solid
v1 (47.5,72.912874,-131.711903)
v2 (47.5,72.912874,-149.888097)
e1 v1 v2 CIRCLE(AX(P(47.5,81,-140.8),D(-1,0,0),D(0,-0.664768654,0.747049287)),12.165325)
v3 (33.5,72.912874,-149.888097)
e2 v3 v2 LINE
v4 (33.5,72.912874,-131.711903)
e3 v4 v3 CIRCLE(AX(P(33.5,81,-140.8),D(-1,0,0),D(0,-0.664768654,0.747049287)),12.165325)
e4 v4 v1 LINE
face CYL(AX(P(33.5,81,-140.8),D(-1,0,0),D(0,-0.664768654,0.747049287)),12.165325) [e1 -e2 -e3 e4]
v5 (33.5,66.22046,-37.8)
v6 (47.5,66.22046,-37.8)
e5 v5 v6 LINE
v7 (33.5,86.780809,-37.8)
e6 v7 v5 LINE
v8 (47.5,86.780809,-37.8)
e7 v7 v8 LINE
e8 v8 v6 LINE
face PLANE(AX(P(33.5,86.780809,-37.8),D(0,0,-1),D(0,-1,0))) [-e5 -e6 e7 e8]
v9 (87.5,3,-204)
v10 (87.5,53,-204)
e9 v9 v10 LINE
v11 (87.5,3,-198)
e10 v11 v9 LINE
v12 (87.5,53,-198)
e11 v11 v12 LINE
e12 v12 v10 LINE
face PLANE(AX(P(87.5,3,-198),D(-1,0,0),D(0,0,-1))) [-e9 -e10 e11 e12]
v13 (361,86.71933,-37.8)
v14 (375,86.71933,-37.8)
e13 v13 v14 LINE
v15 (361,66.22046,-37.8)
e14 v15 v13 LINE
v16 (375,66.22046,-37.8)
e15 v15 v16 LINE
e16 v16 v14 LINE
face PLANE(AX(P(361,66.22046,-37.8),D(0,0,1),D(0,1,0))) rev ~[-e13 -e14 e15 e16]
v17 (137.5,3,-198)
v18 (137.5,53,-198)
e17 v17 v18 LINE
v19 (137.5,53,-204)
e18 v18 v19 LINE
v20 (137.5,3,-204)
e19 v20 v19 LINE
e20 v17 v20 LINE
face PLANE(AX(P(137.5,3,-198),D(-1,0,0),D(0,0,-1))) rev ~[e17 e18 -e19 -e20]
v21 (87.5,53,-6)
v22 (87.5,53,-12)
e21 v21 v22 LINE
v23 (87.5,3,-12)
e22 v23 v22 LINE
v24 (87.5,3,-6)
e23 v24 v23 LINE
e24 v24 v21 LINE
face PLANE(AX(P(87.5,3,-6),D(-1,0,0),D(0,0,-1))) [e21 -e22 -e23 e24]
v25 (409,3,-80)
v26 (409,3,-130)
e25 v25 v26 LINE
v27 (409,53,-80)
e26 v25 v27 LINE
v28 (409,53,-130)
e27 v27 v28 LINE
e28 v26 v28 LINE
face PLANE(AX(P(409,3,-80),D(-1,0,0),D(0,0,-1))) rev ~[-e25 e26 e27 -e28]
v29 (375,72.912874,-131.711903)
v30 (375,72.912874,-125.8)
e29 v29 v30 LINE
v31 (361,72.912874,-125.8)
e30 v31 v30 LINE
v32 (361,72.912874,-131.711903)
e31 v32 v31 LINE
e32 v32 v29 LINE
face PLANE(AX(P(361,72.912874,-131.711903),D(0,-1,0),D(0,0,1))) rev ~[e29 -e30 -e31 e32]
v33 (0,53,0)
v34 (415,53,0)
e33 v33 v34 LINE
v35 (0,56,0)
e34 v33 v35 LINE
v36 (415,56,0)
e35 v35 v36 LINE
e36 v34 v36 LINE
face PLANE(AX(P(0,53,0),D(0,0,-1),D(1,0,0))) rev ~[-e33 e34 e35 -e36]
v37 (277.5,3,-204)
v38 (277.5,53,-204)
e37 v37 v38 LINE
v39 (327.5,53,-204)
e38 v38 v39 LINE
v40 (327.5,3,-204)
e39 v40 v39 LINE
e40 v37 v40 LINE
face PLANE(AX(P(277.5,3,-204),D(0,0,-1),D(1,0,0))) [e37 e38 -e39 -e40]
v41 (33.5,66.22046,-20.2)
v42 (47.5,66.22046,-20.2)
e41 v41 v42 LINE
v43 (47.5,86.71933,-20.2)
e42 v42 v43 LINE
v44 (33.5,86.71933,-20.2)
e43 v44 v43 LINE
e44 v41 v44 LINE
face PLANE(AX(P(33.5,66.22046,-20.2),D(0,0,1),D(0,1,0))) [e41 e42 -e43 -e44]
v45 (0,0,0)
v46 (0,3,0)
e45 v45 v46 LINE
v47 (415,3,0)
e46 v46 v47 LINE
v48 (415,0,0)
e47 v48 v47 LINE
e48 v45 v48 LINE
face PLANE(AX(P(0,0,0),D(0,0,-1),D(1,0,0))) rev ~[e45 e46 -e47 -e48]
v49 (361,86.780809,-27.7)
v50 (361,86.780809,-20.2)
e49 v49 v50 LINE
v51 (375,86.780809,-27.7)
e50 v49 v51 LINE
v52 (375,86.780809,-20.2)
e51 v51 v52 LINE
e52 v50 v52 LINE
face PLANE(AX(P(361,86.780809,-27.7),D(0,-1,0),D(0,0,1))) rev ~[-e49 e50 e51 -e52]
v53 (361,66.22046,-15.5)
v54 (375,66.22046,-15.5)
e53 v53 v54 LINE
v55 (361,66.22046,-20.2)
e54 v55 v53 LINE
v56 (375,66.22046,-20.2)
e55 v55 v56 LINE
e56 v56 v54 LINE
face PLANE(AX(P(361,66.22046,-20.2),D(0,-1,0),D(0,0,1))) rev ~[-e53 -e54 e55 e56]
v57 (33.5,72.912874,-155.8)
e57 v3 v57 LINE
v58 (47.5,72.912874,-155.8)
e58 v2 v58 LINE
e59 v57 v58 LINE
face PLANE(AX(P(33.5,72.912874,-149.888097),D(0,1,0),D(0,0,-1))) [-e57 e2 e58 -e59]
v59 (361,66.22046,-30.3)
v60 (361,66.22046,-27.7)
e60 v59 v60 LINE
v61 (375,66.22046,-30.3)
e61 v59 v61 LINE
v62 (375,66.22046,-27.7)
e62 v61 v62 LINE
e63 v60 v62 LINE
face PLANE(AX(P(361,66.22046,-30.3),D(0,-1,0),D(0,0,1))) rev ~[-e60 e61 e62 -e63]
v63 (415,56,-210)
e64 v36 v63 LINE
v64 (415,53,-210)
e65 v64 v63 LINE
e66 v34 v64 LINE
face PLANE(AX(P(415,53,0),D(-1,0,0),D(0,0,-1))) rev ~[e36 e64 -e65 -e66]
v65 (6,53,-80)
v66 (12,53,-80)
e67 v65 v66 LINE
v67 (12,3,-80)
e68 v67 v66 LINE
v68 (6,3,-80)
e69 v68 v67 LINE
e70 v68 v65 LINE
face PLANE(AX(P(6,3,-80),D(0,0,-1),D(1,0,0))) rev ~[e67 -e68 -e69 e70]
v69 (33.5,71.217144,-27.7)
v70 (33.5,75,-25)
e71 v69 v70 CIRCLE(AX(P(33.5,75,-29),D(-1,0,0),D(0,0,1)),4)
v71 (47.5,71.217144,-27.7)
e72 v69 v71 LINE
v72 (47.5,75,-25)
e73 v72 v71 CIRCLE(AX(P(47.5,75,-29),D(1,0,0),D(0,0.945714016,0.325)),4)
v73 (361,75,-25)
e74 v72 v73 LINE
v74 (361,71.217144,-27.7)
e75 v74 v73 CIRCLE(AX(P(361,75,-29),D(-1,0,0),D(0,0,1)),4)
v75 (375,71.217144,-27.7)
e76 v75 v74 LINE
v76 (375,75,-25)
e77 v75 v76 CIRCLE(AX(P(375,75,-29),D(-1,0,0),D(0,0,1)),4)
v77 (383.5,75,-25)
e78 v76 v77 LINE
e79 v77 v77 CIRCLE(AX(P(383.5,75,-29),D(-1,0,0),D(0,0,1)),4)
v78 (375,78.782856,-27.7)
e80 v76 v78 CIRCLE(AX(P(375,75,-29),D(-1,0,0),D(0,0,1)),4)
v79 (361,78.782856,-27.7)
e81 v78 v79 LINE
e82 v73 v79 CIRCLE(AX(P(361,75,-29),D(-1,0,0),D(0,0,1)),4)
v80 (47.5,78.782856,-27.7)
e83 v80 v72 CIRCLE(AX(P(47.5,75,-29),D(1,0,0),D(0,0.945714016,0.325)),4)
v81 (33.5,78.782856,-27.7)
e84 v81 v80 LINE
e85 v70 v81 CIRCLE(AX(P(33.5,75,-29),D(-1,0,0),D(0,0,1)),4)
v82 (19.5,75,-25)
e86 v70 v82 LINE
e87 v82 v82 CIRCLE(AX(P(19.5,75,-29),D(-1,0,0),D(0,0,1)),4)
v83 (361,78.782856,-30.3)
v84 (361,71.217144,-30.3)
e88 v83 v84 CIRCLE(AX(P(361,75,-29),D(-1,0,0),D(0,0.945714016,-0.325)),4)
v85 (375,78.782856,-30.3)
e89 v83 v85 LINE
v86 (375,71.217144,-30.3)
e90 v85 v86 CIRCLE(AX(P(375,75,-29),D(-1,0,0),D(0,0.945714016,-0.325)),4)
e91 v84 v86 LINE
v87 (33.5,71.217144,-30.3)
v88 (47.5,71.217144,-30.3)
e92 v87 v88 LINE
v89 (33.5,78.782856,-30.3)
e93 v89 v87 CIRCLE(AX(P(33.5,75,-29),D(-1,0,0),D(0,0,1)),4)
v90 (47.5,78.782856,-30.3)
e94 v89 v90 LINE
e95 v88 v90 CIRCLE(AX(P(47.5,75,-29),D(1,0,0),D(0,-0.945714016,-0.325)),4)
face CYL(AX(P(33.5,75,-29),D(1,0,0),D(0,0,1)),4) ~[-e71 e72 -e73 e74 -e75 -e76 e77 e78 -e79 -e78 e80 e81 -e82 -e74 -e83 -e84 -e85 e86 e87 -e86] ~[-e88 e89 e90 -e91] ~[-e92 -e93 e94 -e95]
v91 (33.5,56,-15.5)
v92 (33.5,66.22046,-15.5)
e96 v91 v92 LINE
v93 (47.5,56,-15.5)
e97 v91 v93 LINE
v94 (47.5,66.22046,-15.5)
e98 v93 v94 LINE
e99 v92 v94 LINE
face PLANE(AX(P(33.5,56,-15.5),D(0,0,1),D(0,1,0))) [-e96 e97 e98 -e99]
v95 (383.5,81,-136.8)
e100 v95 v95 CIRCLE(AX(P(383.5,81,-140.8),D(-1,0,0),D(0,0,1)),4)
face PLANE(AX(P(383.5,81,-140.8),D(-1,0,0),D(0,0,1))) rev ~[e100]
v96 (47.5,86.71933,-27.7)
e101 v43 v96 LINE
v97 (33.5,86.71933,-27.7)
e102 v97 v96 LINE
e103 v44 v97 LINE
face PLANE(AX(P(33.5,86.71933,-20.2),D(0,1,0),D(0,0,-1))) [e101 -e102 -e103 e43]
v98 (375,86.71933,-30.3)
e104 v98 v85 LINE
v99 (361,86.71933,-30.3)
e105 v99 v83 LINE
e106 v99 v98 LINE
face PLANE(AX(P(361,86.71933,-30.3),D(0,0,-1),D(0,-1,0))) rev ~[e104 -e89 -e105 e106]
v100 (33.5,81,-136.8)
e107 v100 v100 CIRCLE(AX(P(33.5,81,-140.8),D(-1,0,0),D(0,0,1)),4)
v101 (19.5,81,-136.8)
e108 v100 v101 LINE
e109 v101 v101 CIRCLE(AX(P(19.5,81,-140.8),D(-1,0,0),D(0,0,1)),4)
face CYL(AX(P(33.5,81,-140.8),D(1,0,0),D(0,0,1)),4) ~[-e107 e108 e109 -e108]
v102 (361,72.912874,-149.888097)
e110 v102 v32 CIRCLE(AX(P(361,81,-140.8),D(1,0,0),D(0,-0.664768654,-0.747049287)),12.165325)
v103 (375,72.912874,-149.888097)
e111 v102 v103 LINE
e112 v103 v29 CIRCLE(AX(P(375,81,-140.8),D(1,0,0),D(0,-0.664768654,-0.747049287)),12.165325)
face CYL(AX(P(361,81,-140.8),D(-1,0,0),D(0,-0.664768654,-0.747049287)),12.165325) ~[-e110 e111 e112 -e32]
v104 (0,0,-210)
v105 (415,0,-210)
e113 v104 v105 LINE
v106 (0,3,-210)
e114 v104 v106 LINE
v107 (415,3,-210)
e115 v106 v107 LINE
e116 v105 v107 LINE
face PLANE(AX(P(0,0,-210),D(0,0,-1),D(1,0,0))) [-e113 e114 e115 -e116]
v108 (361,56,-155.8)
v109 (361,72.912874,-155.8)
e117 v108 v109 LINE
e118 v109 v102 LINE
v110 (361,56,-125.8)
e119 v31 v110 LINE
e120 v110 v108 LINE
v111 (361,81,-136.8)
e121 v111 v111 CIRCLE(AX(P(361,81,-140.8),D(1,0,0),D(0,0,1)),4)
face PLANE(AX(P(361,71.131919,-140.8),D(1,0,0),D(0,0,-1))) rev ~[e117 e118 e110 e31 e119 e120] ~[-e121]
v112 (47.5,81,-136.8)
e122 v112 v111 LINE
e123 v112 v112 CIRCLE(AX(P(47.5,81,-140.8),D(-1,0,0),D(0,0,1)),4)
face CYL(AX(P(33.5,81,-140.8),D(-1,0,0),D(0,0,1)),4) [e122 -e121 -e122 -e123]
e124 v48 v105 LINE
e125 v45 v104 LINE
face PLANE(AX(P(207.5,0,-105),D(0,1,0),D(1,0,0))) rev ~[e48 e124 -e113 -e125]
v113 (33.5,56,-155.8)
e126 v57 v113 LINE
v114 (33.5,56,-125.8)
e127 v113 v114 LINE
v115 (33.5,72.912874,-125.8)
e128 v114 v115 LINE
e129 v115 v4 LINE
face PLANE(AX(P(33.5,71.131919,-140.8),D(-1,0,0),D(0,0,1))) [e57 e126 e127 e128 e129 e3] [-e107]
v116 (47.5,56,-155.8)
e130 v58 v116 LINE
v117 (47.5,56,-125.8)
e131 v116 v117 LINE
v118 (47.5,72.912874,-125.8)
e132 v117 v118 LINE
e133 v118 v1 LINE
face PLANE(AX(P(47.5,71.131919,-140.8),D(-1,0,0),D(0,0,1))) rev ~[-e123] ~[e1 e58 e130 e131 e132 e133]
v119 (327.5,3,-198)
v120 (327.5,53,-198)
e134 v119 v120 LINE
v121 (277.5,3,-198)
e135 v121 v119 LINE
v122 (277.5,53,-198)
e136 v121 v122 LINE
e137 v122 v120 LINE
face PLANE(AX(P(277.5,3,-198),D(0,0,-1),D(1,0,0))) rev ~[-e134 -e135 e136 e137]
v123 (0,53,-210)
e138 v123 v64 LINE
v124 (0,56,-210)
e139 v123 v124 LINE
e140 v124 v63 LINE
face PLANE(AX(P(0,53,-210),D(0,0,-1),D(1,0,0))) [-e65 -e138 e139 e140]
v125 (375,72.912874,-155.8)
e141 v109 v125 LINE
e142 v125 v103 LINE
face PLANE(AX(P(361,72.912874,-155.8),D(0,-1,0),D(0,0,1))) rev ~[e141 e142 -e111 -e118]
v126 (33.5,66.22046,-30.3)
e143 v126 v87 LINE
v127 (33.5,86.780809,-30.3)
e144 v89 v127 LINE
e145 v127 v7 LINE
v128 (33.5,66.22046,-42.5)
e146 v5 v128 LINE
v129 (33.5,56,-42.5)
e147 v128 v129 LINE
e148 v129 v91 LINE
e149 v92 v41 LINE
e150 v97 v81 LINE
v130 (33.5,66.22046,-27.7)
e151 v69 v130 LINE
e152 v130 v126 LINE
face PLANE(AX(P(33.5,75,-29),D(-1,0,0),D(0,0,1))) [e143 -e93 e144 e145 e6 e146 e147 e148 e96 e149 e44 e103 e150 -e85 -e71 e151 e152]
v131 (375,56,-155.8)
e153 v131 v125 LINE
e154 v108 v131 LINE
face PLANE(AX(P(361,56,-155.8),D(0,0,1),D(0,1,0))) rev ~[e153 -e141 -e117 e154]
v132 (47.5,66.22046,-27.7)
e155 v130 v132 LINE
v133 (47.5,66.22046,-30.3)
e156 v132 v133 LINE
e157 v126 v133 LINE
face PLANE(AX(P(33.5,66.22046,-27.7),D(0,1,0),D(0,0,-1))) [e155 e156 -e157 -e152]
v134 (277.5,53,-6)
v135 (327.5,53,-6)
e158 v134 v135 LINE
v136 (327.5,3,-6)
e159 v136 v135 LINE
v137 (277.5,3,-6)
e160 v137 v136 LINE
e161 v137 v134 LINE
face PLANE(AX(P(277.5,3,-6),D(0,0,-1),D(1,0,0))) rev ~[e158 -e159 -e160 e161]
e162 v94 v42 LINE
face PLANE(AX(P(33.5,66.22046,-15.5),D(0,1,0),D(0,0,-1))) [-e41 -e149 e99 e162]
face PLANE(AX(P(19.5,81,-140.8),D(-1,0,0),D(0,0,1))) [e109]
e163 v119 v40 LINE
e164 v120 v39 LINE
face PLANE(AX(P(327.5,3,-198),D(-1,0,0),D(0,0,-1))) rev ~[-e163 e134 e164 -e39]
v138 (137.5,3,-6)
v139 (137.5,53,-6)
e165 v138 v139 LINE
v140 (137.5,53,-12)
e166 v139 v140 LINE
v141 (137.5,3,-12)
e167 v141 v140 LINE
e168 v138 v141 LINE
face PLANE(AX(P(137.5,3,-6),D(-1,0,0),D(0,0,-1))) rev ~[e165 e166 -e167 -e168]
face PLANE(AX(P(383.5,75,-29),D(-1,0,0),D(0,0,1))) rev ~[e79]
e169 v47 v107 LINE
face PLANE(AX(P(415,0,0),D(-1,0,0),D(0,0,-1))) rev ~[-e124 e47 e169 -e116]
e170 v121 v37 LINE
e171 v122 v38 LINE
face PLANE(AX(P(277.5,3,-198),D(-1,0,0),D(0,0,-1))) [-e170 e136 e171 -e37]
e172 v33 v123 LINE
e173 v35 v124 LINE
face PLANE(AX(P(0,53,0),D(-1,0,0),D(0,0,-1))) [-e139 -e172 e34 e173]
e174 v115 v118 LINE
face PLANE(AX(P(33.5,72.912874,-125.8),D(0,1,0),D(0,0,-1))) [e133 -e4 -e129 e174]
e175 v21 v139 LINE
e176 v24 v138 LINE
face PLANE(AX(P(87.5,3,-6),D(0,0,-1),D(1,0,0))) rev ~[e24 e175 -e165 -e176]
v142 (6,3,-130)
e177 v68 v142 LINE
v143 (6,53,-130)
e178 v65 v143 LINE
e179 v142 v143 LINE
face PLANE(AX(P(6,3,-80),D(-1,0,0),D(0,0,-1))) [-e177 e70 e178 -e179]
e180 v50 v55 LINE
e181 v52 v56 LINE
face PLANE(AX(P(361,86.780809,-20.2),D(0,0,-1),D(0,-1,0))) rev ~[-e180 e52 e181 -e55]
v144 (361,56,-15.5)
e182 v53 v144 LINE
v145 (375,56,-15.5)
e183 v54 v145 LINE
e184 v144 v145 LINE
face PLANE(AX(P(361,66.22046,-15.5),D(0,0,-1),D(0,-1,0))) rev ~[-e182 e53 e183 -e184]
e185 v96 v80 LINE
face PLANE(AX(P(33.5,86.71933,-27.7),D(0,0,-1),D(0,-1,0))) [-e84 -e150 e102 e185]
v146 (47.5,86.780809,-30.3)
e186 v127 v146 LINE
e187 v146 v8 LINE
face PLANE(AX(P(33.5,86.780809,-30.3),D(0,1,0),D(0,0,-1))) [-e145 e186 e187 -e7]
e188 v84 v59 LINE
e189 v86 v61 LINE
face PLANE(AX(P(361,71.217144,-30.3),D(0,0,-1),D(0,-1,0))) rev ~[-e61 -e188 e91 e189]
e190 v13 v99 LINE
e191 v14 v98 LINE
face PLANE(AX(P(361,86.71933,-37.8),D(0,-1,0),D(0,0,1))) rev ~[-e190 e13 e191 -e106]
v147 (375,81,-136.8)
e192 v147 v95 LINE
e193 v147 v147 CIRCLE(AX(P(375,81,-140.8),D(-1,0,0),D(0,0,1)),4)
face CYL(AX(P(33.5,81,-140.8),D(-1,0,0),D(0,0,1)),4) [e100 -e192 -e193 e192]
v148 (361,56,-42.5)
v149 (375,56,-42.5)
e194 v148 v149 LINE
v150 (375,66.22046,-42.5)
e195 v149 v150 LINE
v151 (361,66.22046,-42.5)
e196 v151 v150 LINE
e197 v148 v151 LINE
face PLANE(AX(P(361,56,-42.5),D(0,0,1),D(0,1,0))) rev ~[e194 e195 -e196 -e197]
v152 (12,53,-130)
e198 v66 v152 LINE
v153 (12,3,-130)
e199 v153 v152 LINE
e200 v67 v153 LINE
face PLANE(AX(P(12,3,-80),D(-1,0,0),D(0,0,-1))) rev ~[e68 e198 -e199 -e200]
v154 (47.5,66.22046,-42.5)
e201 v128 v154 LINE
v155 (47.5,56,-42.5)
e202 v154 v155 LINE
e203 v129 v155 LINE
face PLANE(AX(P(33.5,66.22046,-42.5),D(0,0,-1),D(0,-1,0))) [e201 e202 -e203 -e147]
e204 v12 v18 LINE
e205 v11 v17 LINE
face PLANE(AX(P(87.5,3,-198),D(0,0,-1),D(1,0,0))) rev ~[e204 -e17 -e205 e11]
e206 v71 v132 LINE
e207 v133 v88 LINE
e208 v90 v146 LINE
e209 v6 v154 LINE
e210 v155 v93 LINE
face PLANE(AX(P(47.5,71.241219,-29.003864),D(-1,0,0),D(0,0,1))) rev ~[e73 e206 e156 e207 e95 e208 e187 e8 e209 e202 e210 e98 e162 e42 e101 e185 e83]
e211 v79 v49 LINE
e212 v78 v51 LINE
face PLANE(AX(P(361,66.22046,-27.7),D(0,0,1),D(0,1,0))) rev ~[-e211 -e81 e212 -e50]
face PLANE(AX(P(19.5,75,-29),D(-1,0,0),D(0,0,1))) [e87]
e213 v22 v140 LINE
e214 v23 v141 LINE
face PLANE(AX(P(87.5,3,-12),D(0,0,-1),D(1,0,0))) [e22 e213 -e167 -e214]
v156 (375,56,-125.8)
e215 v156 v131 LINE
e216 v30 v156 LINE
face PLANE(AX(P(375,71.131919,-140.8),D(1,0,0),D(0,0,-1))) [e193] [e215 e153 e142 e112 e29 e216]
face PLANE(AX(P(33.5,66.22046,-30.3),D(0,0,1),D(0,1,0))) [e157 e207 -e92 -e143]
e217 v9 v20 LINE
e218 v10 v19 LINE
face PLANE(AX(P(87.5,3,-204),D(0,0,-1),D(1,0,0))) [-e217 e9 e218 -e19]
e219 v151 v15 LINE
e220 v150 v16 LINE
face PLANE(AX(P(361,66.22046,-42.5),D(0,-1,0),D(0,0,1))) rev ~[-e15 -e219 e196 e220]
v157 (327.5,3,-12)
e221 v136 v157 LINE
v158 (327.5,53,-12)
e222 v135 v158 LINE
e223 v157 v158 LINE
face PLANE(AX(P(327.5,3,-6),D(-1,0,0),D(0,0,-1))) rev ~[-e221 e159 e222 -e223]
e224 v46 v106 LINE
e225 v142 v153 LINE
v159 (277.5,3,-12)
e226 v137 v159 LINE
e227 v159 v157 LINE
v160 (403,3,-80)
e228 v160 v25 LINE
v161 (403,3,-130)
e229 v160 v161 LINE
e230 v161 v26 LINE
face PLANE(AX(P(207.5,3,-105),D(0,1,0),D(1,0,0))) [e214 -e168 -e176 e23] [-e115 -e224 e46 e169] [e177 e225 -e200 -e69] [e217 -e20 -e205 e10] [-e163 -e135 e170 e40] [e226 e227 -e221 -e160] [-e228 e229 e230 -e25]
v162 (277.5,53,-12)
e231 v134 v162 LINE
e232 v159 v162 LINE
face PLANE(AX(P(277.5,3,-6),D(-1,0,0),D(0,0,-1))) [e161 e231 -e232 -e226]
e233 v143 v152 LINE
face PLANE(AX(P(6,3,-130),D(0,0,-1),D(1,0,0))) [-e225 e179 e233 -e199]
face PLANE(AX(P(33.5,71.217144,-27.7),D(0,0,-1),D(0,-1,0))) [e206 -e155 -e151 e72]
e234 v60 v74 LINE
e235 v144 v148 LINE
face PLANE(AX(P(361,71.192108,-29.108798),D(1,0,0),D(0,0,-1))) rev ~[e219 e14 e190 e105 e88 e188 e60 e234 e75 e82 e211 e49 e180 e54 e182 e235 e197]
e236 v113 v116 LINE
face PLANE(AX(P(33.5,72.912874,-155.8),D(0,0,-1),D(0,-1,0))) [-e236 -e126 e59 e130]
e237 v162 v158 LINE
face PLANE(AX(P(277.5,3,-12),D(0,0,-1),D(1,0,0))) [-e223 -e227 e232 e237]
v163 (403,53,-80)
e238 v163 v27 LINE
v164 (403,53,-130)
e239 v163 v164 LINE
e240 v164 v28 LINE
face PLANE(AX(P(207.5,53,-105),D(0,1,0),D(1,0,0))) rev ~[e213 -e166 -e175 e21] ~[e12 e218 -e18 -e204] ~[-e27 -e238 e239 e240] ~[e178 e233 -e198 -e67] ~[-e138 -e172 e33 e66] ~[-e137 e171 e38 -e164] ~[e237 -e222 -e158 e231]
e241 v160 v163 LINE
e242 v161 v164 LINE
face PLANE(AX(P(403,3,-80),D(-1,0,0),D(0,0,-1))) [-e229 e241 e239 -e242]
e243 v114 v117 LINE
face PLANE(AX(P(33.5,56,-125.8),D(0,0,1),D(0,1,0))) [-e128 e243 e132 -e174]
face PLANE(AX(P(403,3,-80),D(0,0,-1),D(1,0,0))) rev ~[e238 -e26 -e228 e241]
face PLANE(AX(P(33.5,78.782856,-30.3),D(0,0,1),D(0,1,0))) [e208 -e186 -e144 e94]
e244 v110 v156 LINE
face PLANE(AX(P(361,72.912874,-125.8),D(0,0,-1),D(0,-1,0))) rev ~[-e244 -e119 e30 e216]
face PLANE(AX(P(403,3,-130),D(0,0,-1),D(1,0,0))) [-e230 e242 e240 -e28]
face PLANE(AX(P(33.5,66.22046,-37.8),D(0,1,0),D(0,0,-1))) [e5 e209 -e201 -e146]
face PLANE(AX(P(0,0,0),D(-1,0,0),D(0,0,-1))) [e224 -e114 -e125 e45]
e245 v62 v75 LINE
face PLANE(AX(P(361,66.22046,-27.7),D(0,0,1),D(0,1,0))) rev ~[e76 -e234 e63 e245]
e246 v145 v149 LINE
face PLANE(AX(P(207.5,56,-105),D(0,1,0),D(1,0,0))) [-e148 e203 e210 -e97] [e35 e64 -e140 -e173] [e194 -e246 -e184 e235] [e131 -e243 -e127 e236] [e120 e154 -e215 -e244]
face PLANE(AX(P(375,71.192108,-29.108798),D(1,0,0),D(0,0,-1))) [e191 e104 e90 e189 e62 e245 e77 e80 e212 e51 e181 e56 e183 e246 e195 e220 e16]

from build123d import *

# Parameters (mm, degrees)
SKETCH2_W           = 415
SKETCH2_H           = 210
BOSS_EXTRUDE1_DEPTH = 3
SKETCH3_W           = 415
SKETCH3_H           = 210
BOSS_EXTRUDE2_DEPTH = 3
BOSS_EXTRUDE3_REACH = 470.118
SKETCH4_W           = 6
SKETCH4_H           = 50
SKETCH4_W_2         = 50
SKETCH4_H_2         = 6
BOSS_EXTRUDE4_DEPTH = 14
SKETCH5_3_R         = 4
BOSS_EXTRUDE5_DEPTH = 350
SKETCH8_R           = 4
BOSS_EXTRUDE6_DEPTH = 14
SKETCH5_4_R         = 4
BOSS_EXTRUDE7_DEPTH = 14


with BuildPart() as part:
    # Sketch2 → Boss-Extrude1 (new body)
    with BuildSketch(Plane(origin=(0, 0, 0), x_dir=(1, 0, 0), z_dir=(0, 1, 0))):
        with Locations((207.5, 105)):
            Rectangle(SKETCH2_W, SKETCH2_H)
    extrude(amount=BOSS_EXTRUDE1_DEPTH)


with BuildPart() as body_2:
    # Sketch3 → Boss-Extrude2 (new body)
    with BuildSketch(Plane(origin=(0, 53, 0), x_dir=(1, 0, 0), z_dir=(0, 1, 0))):
        with Locations((207.5, 105)):
            Rectangle(SKETCH3_W, SKETCH3_H)
    extrude(amount=BOSS_EXTRUDE2_DEPTH)

    # Sketch4 → Boss-Extrude3 (add, up to next)
    with BuildSketch(Plane(origin=(0, 3, 0), x_dir=(1, 0, 0), z_dir=(0, 1, 0)), mode=Mode.PRIVATE) as boss_extrude3_sk1:
        with Locations((9, 105)):
            Rectangle(SKETCH4_W, SKETCH4_H)
    boss_extrude3_tool1 = extrude(boss_extrude3_sk1.sketch, amount=BOSS_EXTRUDE3_REACH, mode=Mode.PRIVATE) - body_2.part
    # Sketch4 → Boss-Extrude3 (add, up to next)
    with BuildSketch(Plane(origin=(0, 3, 0), x_dir=(1, 0, 0), z_dir=(0, 1, 0)), mode=Mode.PRIVATE) as boss_extrude3_sk2:
        with Locations((112.5, 9)):
            Rectangle(SKETCH4_W_2, SKETCH4_H_2)
    boss_extrude3_tool2 = extrude(boss_extrude3_sk2.sketch, amount=BOSS_EXTRUDE3_REACH, mode=Mode.PRIVATE) - body_2.part
    # Sketch4 → Boss-Extrude3 (add, up to next)
    with BuildSketch(Plane(origin=(0, 3, 0), x_dir=(1, 0, 0), z_dir=(0, 1, 0)), mode=Mode.PRIVATE) as boss_extrude3_sk3:
        with Locations((302.5, 9)):
            Rectangle(SKETCH4_W_2, SKETCH4_H_2)
    boss_extrude3_tool3 = extrude(boss_extrude3_sk3.sketch, amount=BOSS_EXTRUDE3_REACH, mode=Mode.PRIVATE) - body_2.part
    # Sketch4 → Boss-Extrude3 (add, up to next)
    with BuildSketch(Plane(origin=(0, 3, 0), x_dir=(1, 0, 0), z_dir=(0, 1, 0)), mode=Mode.PRIVATE) as boss_extrude3_sk4:
        with Locations((406, 105)):
            Rectangle(SKETCH4_W, SKETCH4_H)
    boss_extrude3_tool4 = extrude(boss_extrude3_sk4.sketch, amount=BOSS_EXTRUDE3_REACH, mode=Mode.PRIVATE) - body_2.part
    # Sketch4 → Boss-Extrude3 (add, up to next)
    with BuildSketch(Plane(origin=(0, 3, 0), x_dir=(1, 0, 0), z_dir=(0, 1, 0)), mode=Mode.PRIVATE) as boss_extrude3_sk5:
        with Locations((302.5, 201)):
            Rectangle(SKETCH4_W_2, SKETCH4_H_2)
    boss_extrude3_tool5 = extrude(boss_extrude3_sk5.sketch, amount=BOSS_EXTRUDE3_REACH, mode=Mode.PRIVATE) - body_2.part
    # Sketch4 → Boss-Extrude3 (add, up to next)
    with BuildSketch(Plane(origin=(0, 3, 0), x_dir=(1, 0, 0), z_dir=(0, 1, 0)), mode=Mode.PRIVATE) as boss_extrude3_sk6:
        with Locations((112.5, 201)):
            Rectangle(SKETCH4_W_2, SKETCH4_H_2)
    boss_extrude3_tool6 = extrude(boss_extrude3_sk6.sketch, amount=BOSS_EXTRUDE3_REACH, mode=Mode.PRIVATE) - body_2.part

    add(part.part)  # Boss-Extrude3 merges part
    add(boss_extrude3_tool1.solids().sort_by_distance((9, 3, -105))[0])
    add(boss_extrude3_tool2.solids().sort_by_distance((112.5, 3, -9))[0])
    add(boss_extrude3_tool3.solids().sort_by_distance((302.5, 3, -9))[0])
    add(boss_extrude3_tool4.solids().sort_by_distance((406, 3, -105))[0])
    add(boss_extrude3_tool5.solids().sort_by_distance((302.5, 3, -201))[0])
    add(boss_extrude3_tool6.solids().sort_by_distance((112.5, 3, -201))[0])

    # Sketch5 → Boss-Extrude4 (add)
    with BuildSketch(Plane.ZY.offset(-33.5)):
        with BuildLine():
            Line((-20.2, 66.220460186), (-20.2, 86.719329946))
            Line((-20.2, 86.719329946), (-27.7, 86.719329946))
            Line((-27.7, 86.719329946), (-27.7, 78.782856064))
            ThreePointArc((-27.7, 78.782856064), (-25, 75), (-27.7, 71.217143936))
            Line((-27.7, 71.217143936), (-27.7, 66.220460186))
            Line((-27.7, 66.220460186), (-30.3, 66.220460186))
            Line((-30.3, 66.220460186), (-30.3, 71.217143936))
            ThreePointArc((-30.3, 71.217143936), (-33, 75), (-30.3, 78.782856064))
            Line((-30.3, 78.782856064), (-30.3, 86.780809456))
            Line((-30.3, 86.780809456), (-37.8, 86.780809456))
            Line((-37.8, 86.780809456), (-37.8, 66.220460186))
            Line((-37.8, 66.220460186), (-42.5, 66.220460186))
            Line((-42.5, 66.220460186), (-42.5, 56))
            Line((-42.5, 56), (-15.5, 56))
            Line((-15.5, 56), (-15.5, 66.220460186))
            Line((-15.5, 66.220460186), (-20.2, 66.220460186))
        make_face()
        with BuildLine():
            Line((-149.888097116, 72.9128735), (-155.8, 72.9128735))
            Line((-155.8, 72.9128735), (-155.8, 56))
            Line((-155.8, 56), (-125.8, 56))
            Line((-125.8, 56), (-125.8, 72.9128735))
            Line((-125.8, 72.9128735), (-131.711902884, 72.9128735))
            ThreePointArc((-131.711902884, 72.9128735), (-140.8, 93.165324665), (-149.888097116, 72.9128735))
        make_face()
    extrude(amount=-BOSS_EXTRUDE4_DEPTH)

    # Sketch5<3> → Boss-Extrude5 (add)
    with BuildSketch(Plane.ZY.offset(-33.5)):
        with Locations((-29, 75)):
            Circle(SKETCH5_3_R)
        with Locations((-140.8, 81)):
            Circle(SKETCH5_3_R)
    extrude(amount=-BOSS_EXTRUDE5_DEPTH)

    # Sketch8 → Boss-Extrude6 (add)
    # profile 1 of 2: a face of its own
    with BuildSketch(Plane(origin=(361, 0, 0), x_dir=(0, 0, -1), z_dir=(1, 0, 0))):
        with BuildLine():
            Line((37.8, 66.220460186), (37.8, 86.719329946))
            Line((37.8, 86.719329946), (30.3, 86.719329946))
            Line((30.3, 86.719329946), (30.3, 78.782856064))
            ThreePointArc((30.3, 78.782856064), (33, 75), (30.3, 71.217143936))
            Line((30.3, 71.217143936), (30.3, 66.220460186))
            Line((30.3, 66.220460186), (27.7, 66.220460186))
            Line((27.7, 66.220460186), (27.7, 86.780809456))
            Line((27.7, 86.780809456), (20.2, 86.780809456))
            Line((20.2, 86.780809456), (20.2, 66.220460186))
            Line((20.2, 66.220460186), (15.5, 66.220460186))
            Line((15.5, 66.220460186), (15.5, 56))
            Line((15.5, 56), (42.5, 56))
            Line((42.5, 56), (42.5, 66.220460186))
            Line((42.5, 66.220460186), (37.8, 66.220460186))
        make_face()
    # profile 2 of 2: a face of its own
    with BuildSketch(Plane(origin=(361, 0, 0), x_dir=(0, 0, -1), z_dir=(1, 0, 0))):
        with BuildLine():
            Line((131.711902884, 72.9128735), (125.8, 72.9128735))
            Line((125.8, 72.9128735), (125.8, 56))
            Line((125.8, 56), (155.8, 56))
            Line((155.8, 56), (155.8, 72.9128735))
            Line((155.8, 72.9128735), (149.888097116, 72.9128735))
            ThreePointArc((149.888097116, 72.9128735), (140.8, 93.165324665), (131.711902884, 72.9128735))
        make_face()
        with Locations((140.8, 81)):
            Circle(SKETCH8_R, mode=Mode.SUBTRACT)
    extrude(amount=BOSS_EXTRUDE6_DEPTH)

    # Sketch5<4> → Boss-Extrude7 (add)
    with BuildSketch(Plane.ZY.offset(-33.5)):
        with Locations((-29, 75)):
            Circle(SKETCH5_4_R)
        with Locations((-140.8, 81)):
            Circle(SKETCH5_4_R)
    extrude(amount=BOSS_EXTRUDE7_DEPTH)


solid = body_2.part
